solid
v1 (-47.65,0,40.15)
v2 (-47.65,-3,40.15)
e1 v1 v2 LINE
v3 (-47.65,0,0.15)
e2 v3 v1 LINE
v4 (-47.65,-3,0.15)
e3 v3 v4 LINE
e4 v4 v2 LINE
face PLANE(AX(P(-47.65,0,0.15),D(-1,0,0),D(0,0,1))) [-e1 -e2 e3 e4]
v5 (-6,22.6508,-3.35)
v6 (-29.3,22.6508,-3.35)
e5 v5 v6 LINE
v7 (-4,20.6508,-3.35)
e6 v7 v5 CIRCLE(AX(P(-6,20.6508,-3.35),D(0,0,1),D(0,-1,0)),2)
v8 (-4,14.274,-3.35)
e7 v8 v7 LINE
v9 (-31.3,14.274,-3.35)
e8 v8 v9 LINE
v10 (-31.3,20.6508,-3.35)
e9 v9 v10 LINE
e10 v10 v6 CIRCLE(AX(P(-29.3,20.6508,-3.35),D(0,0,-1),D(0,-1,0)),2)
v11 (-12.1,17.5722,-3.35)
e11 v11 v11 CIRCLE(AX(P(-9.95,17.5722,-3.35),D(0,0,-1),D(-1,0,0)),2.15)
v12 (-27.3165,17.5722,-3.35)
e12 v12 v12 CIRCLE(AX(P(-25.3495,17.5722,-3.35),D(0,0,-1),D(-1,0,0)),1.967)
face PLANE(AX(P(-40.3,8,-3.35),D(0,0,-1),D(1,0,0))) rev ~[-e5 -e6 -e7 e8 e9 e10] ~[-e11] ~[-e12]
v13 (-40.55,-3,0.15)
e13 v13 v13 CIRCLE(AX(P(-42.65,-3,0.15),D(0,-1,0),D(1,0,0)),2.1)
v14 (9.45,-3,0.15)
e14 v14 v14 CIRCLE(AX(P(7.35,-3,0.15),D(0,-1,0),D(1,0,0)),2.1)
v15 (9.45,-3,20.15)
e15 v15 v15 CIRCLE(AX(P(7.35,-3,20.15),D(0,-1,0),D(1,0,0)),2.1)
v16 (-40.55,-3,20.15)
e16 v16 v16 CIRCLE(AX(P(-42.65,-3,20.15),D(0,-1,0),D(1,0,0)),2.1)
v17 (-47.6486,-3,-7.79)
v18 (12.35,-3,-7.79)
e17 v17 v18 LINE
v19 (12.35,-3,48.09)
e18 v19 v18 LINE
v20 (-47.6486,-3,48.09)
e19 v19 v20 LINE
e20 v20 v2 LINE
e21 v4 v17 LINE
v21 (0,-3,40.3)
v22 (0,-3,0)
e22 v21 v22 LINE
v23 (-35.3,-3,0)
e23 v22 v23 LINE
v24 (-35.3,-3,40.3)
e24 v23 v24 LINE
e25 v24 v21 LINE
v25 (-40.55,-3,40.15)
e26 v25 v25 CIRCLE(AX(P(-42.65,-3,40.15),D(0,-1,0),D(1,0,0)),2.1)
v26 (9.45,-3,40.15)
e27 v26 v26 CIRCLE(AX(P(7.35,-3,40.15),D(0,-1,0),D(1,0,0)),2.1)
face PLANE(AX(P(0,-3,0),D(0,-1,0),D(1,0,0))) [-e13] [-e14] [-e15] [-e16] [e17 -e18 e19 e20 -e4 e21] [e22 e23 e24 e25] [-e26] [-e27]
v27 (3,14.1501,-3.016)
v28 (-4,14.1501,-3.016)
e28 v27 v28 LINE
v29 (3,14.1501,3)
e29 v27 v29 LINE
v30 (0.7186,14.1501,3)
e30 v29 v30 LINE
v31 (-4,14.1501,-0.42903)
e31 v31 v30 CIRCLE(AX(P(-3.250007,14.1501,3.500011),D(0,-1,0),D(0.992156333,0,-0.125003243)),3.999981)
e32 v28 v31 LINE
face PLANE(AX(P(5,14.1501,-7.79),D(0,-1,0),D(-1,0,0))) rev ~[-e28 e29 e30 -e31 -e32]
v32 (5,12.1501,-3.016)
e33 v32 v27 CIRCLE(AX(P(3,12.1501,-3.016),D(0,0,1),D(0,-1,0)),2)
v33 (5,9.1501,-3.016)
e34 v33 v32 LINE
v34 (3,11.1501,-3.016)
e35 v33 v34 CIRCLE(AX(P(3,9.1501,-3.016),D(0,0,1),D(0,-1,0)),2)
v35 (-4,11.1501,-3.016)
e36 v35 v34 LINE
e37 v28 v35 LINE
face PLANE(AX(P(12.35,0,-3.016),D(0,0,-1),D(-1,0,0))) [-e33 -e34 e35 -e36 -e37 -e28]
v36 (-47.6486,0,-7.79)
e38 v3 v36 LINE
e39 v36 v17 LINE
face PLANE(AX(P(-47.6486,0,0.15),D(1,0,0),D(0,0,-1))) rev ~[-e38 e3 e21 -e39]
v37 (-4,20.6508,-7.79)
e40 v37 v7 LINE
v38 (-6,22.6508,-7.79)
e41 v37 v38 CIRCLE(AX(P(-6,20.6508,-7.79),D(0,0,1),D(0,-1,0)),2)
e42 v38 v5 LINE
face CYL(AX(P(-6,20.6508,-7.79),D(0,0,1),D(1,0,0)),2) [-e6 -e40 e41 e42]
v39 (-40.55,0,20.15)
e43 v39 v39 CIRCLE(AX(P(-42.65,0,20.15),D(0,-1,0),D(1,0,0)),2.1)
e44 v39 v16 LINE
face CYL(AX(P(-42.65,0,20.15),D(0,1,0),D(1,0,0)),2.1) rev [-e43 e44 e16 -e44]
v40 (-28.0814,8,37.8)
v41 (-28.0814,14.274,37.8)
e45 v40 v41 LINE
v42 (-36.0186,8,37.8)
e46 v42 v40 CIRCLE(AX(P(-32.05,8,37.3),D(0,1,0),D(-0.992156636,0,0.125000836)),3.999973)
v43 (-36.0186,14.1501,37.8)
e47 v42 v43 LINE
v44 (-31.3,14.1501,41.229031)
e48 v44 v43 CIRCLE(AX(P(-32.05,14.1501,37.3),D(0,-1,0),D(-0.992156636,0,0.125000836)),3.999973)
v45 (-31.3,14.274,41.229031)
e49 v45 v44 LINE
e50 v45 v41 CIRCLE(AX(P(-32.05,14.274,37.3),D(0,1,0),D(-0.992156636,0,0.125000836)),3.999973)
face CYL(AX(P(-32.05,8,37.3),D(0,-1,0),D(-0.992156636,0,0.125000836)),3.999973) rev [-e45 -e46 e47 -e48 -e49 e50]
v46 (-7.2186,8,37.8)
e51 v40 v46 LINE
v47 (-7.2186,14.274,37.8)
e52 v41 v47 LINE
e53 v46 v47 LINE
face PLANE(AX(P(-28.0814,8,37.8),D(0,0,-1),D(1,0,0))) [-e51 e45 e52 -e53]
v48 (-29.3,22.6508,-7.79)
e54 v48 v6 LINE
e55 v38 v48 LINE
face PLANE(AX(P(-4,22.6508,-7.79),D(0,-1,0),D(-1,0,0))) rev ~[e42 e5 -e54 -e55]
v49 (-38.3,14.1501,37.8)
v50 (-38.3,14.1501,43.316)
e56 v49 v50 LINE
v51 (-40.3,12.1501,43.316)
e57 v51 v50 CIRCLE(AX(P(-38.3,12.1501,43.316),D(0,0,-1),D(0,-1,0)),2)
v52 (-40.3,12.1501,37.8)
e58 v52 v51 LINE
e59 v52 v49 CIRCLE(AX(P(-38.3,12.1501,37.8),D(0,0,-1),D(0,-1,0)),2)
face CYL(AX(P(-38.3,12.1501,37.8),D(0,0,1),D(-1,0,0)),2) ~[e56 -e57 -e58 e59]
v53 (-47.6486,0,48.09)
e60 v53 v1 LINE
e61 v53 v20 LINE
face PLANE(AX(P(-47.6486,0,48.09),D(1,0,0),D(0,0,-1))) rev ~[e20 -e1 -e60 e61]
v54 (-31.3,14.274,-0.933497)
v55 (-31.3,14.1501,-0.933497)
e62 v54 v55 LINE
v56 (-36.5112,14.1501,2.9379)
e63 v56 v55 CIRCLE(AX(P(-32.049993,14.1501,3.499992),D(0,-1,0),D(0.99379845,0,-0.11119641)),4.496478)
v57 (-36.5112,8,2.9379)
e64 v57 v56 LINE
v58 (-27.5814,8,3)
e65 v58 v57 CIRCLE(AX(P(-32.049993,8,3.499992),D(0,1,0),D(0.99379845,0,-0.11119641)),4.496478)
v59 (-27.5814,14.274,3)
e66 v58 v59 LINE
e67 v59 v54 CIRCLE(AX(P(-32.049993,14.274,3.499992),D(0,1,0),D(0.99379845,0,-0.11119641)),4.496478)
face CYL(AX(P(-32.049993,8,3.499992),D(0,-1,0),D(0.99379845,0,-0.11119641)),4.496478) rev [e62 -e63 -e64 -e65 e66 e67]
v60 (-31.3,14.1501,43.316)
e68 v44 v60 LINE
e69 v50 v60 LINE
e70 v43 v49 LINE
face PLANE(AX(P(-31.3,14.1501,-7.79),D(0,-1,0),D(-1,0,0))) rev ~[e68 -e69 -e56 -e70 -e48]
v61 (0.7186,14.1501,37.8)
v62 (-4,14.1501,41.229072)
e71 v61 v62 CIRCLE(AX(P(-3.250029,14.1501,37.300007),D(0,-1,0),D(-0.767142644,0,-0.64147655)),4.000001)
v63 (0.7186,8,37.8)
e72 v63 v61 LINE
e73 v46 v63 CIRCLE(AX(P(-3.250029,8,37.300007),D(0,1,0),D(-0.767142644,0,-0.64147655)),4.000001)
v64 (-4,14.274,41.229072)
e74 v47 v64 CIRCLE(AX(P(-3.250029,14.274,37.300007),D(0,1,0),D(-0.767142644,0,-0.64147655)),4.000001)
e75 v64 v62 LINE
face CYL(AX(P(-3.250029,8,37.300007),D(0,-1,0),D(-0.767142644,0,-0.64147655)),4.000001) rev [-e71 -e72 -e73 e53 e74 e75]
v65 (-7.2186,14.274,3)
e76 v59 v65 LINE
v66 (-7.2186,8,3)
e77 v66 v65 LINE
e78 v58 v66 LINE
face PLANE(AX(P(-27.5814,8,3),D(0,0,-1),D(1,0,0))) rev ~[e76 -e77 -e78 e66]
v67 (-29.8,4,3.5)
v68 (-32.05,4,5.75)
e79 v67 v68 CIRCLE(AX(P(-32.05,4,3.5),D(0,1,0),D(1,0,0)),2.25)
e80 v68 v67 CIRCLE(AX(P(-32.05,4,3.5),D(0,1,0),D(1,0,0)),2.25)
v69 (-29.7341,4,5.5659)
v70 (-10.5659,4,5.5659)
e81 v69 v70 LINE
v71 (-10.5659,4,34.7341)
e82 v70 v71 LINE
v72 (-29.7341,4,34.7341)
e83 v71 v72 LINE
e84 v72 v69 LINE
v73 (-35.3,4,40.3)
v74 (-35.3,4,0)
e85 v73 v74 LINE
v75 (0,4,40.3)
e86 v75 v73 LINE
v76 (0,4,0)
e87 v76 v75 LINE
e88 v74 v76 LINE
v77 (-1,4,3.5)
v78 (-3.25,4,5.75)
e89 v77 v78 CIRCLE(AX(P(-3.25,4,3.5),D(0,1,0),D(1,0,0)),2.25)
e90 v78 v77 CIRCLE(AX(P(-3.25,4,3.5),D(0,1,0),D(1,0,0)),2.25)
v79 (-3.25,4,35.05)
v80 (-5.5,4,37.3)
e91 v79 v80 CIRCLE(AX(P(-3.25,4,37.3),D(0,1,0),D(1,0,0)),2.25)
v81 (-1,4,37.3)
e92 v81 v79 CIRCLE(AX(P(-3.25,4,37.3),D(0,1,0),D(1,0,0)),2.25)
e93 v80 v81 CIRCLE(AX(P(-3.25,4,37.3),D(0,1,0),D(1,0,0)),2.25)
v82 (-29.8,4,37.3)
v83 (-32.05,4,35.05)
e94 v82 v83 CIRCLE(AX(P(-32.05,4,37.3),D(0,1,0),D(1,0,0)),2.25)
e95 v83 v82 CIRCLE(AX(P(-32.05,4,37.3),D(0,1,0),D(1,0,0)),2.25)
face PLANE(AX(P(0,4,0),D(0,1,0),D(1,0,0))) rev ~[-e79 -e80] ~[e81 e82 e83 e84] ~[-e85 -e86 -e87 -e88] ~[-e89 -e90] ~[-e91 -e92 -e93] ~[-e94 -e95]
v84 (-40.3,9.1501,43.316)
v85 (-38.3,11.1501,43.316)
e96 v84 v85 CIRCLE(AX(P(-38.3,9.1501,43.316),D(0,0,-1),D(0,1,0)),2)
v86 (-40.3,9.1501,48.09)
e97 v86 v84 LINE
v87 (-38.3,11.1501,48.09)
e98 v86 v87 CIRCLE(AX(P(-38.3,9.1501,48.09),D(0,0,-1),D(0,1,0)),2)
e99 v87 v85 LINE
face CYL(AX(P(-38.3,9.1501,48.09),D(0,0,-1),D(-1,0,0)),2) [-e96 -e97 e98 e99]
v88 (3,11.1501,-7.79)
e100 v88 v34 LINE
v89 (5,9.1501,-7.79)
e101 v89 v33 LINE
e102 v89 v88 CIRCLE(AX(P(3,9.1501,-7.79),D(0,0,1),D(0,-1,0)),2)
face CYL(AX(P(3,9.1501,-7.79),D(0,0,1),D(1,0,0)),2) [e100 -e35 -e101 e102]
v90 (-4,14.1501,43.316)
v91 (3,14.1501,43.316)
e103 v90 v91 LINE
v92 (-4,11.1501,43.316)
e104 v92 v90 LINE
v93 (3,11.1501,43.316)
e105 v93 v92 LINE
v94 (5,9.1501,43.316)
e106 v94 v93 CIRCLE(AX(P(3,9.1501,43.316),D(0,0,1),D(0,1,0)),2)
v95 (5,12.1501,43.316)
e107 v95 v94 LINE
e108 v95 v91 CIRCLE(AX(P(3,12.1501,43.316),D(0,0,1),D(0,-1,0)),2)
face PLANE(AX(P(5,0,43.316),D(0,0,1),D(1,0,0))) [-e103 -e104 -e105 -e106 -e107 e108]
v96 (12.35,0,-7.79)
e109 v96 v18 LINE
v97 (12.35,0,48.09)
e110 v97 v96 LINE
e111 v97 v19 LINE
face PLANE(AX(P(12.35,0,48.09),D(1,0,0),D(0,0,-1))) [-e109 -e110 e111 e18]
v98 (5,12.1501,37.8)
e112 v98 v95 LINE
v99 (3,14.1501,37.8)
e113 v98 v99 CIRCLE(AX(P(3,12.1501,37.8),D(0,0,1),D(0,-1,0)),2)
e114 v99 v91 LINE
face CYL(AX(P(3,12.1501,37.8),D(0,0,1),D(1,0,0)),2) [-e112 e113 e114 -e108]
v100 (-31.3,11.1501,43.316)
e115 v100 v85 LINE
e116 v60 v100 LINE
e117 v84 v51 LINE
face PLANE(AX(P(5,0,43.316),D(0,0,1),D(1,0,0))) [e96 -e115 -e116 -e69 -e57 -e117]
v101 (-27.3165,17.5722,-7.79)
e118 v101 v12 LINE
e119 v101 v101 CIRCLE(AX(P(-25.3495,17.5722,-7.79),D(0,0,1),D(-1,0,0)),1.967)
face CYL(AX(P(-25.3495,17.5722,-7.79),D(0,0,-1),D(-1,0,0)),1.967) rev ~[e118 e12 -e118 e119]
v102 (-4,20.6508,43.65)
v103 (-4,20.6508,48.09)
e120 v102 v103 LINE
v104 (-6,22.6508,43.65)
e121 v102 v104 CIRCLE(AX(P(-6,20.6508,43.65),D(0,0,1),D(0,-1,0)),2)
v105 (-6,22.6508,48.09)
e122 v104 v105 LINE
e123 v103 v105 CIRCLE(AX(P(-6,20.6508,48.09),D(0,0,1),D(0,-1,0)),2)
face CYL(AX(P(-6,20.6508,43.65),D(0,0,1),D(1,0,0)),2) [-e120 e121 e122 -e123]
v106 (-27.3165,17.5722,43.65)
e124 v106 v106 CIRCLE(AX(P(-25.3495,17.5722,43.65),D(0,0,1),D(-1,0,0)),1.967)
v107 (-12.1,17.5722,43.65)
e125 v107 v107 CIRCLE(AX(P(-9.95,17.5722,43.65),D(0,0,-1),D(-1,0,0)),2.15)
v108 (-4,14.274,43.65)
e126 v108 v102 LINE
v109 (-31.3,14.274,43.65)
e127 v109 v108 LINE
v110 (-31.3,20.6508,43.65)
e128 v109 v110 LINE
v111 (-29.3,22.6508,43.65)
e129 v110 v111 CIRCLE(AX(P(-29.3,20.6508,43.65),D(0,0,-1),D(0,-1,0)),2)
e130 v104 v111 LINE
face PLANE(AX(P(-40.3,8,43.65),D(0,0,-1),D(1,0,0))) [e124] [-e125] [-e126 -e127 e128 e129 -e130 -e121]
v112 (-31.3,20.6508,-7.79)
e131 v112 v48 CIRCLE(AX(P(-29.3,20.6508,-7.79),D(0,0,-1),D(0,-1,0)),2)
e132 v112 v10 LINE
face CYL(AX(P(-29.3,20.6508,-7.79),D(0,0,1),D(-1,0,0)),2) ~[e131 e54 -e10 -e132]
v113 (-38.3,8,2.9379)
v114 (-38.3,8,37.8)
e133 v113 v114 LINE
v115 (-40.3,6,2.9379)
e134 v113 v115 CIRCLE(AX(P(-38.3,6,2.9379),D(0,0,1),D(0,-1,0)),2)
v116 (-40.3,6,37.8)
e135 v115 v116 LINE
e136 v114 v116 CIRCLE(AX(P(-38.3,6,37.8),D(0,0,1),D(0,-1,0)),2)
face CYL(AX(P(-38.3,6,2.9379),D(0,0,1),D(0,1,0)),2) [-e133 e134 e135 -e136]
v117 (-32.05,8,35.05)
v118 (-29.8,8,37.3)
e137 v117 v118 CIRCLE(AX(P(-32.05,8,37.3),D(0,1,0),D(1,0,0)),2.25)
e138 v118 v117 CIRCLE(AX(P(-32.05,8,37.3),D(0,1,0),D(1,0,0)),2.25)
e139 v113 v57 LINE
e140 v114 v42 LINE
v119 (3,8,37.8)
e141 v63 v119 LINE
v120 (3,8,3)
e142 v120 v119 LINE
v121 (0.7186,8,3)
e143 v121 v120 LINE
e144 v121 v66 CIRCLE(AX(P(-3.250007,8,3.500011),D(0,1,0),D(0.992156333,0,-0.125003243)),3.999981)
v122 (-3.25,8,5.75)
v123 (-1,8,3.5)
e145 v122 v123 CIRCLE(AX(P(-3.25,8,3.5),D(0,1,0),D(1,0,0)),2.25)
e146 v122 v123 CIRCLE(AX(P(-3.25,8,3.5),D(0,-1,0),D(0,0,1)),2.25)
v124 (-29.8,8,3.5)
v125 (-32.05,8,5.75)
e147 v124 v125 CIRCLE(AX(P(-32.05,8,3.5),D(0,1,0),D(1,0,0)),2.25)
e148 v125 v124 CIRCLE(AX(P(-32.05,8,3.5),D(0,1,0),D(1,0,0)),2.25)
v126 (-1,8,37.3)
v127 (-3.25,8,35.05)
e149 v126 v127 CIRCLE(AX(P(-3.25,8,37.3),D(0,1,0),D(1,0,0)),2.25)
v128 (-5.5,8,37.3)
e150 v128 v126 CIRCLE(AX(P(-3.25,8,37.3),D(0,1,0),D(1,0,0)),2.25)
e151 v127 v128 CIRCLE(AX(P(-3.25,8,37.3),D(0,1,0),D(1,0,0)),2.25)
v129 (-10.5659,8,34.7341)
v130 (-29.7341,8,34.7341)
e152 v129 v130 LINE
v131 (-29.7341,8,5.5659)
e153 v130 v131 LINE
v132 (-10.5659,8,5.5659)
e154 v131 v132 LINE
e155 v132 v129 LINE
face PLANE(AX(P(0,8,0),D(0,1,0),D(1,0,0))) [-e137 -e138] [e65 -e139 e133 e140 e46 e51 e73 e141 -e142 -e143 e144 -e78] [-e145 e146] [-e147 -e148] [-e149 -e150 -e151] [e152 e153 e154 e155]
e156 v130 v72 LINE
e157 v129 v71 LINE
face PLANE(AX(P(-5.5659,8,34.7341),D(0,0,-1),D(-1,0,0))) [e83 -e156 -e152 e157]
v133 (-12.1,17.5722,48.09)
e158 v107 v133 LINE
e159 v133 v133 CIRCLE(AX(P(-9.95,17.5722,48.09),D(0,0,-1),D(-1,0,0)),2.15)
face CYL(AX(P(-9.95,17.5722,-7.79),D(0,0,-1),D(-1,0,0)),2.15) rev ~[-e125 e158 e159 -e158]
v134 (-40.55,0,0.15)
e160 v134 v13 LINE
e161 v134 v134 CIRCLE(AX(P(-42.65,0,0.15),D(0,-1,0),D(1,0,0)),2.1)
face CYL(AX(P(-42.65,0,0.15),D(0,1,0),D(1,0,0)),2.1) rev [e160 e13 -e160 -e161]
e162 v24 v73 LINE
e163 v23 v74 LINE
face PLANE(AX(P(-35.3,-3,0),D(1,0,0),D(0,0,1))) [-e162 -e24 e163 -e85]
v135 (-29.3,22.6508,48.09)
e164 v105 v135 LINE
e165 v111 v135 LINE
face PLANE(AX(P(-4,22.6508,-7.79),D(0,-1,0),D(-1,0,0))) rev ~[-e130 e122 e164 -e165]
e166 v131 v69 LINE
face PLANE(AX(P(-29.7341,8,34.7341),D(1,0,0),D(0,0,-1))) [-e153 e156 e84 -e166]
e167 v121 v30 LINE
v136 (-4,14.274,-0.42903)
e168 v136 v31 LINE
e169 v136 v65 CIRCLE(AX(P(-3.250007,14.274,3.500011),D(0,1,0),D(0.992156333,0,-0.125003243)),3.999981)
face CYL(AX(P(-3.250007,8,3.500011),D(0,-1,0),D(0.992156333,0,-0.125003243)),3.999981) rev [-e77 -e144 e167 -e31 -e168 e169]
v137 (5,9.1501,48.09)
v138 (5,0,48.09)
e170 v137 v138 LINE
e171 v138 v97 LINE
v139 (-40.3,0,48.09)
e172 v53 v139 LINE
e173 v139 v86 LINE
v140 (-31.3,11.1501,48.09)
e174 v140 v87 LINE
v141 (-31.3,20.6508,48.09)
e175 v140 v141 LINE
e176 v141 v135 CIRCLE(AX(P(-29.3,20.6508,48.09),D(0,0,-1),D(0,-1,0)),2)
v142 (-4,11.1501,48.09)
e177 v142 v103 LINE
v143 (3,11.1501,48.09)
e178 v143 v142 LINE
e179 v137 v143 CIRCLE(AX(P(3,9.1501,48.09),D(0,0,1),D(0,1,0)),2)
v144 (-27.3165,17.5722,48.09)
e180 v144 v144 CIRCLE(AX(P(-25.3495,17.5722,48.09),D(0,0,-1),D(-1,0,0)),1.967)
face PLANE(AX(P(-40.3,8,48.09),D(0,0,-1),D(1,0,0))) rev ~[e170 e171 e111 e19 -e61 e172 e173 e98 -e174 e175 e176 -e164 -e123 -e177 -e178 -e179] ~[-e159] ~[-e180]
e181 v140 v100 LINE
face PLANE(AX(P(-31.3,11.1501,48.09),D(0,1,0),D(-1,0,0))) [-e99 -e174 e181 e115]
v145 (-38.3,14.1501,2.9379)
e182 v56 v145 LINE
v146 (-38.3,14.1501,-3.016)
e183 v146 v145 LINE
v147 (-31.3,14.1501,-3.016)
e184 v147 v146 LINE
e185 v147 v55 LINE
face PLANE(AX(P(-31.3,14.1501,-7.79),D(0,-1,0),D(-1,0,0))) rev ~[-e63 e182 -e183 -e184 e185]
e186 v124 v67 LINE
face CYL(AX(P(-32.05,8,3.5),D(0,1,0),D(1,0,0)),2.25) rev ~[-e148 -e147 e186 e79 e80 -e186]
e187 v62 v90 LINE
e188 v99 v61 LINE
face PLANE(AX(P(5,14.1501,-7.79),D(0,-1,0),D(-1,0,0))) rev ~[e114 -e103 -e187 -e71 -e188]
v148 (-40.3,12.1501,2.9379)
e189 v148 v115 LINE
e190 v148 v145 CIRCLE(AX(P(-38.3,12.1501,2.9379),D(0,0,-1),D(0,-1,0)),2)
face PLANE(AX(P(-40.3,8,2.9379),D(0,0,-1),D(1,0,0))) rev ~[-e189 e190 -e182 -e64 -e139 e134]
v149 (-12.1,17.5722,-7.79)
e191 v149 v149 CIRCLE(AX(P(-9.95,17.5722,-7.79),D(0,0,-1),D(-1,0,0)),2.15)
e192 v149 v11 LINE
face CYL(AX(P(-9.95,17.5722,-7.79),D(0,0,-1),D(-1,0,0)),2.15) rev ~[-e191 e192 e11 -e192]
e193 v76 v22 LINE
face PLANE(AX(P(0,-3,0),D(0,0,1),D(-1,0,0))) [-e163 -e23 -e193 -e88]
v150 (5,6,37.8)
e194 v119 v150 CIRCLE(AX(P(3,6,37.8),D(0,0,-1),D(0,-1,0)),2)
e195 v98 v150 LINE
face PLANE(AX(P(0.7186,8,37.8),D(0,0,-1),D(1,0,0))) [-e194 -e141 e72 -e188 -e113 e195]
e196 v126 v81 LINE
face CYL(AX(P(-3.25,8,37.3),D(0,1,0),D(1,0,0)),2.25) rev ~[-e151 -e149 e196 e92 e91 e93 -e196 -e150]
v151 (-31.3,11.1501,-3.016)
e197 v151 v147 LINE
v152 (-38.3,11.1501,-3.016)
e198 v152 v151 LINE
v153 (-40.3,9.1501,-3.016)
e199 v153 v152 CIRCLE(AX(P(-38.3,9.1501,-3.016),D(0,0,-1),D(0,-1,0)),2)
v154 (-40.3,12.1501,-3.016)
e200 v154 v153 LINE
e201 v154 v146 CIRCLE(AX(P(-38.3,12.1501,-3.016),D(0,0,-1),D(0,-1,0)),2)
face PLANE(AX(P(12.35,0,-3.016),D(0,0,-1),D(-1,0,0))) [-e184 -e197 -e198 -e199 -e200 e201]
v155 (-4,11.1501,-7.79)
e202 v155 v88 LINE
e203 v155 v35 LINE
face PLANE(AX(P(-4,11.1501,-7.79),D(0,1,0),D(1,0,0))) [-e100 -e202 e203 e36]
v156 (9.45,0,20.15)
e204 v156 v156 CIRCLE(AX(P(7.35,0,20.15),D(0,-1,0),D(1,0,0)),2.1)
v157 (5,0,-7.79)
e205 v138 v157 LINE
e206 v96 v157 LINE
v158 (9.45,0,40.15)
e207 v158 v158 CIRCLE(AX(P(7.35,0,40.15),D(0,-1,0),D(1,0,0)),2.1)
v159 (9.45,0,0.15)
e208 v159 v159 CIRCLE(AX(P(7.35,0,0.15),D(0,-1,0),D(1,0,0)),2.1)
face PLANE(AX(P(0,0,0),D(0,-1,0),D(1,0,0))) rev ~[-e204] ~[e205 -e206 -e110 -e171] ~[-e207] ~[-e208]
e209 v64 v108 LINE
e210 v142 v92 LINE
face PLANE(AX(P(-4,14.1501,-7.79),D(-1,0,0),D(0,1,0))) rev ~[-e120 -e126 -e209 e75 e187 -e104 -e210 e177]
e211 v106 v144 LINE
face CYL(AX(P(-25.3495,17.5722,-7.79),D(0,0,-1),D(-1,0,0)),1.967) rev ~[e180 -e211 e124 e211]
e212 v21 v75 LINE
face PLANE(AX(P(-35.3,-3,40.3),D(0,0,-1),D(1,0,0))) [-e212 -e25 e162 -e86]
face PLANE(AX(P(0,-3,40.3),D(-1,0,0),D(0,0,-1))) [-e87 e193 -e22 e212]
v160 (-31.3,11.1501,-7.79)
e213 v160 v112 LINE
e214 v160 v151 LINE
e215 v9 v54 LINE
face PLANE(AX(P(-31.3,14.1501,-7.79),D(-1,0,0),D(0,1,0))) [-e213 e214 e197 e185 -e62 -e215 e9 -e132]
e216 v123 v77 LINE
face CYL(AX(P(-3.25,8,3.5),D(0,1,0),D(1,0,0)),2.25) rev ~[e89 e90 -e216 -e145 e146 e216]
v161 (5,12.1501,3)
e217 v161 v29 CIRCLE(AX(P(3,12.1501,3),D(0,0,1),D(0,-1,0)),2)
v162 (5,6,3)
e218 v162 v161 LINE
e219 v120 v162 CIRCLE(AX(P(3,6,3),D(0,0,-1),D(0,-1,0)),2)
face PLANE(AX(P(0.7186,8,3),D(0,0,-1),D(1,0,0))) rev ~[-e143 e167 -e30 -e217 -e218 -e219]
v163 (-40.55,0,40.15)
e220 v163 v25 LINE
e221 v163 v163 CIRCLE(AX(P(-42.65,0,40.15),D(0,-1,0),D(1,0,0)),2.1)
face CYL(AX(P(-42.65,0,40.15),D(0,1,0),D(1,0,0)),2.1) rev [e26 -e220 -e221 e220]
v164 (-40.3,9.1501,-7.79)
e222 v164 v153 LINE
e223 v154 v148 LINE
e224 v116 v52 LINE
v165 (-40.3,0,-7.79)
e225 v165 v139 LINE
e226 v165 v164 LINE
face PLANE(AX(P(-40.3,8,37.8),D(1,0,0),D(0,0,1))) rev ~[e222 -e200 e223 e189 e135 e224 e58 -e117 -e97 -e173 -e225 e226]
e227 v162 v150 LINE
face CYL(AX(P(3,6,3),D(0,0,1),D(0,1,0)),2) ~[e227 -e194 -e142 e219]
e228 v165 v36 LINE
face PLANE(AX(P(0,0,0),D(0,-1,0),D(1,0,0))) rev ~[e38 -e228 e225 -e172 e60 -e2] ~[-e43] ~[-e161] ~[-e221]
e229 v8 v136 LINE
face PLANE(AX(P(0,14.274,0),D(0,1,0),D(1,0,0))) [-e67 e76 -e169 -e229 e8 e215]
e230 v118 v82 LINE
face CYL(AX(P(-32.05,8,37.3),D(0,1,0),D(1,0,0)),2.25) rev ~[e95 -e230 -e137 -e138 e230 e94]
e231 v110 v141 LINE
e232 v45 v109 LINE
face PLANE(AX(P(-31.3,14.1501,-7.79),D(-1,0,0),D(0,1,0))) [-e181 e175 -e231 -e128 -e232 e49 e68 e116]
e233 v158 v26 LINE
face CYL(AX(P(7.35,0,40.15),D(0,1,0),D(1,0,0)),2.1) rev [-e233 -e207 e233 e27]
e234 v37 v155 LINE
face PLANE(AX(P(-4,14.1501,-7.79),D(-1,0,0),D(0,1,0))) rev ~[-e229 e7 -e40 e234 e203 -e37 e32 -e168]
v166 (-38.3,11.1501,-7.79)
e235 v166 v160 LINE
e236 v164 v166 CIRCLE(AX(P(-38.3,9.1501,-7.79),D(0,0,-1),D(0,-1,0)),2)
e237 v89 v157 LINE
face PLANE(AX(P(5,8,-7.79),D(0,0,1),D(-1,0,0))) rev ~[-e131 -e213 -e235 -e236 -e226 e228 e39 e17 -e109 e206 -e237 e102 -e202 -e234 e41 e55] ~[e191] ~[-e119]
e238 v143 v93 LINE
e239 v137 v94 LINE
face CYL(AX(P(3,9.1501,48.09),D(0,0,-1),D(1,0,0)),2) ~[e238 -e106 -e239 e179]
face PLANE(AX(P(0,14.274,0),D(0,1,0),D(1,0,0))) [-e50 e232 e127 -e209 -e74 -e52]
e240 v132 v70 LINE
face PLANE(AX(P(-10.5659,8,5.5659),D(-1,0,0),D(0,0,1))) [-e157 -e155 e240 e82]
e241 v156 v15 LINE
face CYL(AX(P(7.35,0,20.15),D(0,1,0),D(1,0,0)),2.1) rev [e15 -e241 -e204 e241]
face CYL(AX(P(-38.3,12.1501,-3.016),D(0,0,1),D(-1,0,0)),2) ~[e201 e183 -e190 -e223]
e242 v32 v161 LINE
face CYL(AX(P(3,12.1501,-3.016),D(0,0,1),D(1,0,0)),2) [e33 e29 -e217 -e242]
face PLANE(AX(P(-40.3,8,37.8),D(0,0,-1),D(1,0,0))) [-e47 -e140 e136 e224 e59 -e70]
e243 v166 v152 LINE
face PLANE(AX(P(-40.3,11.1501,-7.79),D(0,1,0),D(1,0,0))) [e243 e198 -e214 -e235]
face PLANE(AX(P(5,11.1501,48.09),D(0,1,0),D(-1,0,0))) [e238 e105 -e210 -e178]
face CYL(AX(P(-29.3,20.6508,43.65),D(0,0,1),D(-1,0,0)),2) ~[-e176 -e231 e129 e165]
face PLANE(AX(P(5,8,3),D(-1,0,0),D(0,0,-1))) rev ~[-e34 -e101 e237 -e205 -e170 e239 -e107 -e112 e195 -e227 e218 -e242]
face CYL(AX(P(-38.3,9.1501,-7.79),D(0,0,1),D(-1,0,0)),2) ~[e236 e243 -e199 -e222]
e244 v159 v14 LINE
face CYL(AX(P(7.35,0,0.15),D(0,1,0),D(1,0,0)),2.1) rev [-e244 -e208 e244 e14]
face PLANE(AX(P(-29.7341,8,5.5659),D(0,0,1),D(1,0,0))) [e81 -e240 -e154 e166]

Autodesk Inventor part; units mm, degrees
ref_plane "YZ Plane" through (0, 0, 0) normal (1, 0, 0) x (0, 1, 0)
ref_plane "XZ Plane" through (0, 0, 0) normal (0, 1, 0) x (-1, 0, 0)
ref_plane "XY Plane" through (0, 0, 0) normal (0, 0, 1) x (1, 0, 0)
sketch "Sketch1" plane through (0, 0, 0) normal (0, 1, 0) x (-1, 0, 0)
  line L0 (0, 0) -> (35.3, 0)
  line L1 (35.3, 0) -> (35.3, 40.3)
  line L2 (35.3, 40.3) -> (0, 40.3)
  line L3 (0, 40.3) -> (0, 0)
  line L4 (40.3, 45.3) -> (40.3, -5)
  line L5 (40.3, -5) -> (-5, -5)
  line L6 (-5, -5) -> (-5, 45.3)
  line L7 (-5, 45.3) -> (40.3, 45.3)
  dimension "d0" = 35.3
  dimension "d1" = 40.3
  dimension "d2" = 5
extrude "Extrusion1" add sketch "Sketch1" along normal blind 8
sketch "Sketch2" plane through (0, 8, 0) normal (0, 1, 0) x (1, 0, 0)
  line L0 (0, 0) -> (0, -40.3) projected
  line L1 (0, -40.3) -> (-35.3, -40.3) projected
  line L2 (-35.3, -40.3) -> (-35.3, 0) projected
  line L3 (-35.3, 0) -> (0, 0) projected
  line L4 (-32.05, -5.75) -> (-32.05, -35.05)
  line L5 (-29.8, -37.3) -> (-5.5, -37.3)
  line L6 (-3.25, -35.05) -> (-3.25, -5.75)
  circle A0 centre (-32.05, -3.5) radius 2.25
  circle A1 centre (-3.25, -3.5) radius 2.25
  circle A2 centre (-3.25, -37.3) radius 2.25
  circle A3 centre (-32.05, -37.3) radius 2.25
  line L7 (-5.5659, -5.5659) -> (-5.5659, -34.7341)
  line L8 (-5.5659, -34.7341) -> (-29.7341, -34.7341)
  line L9 (-29.7341, -34.7341) -> (-29.7341, -5.5659)
  line L10 (-29.7341, -5.5659) -> (-5.5659, -5.5659)
  line L11 (-5.5, -3.5) -> (-5.5659, -3.5)
  line L12 (-29.7341, -3.5) -> (-29.8, -3.5)
  dimension "d6" = 4.5
  dimension "d7" = 4.5
  dimension "d8" = 4.5
  dimension "d9" = 4.5
  dimension "d17" = 5.5659
extrude "Extrusion2" add sketch "Sketch2" against normal blind 4
sketch "Sketch3" plane through (0, 0, 0) normal (0, -1, 0) x (1, 0, 0)
  line L0 (-40.3, 45.3) -> (-40.3, -5) projected
  line L1 (-40.3, -5) -> (5, -5) projected
  line L2 (4.73, -7.79) -> (-40.03, -7.79)
  line L3 (-40.03, 48.09) -> (4.73, 48.09)
  line L4 (83.85, 15.65) -> (86.85, 15.65)
  circle A0 centre (25.35, 55.15) radius 2.5
  arc A1 (-22.4416, -21.2786) -> (-24.3582, -19.85) centre (-24.3582, -21.85) ccw
  line L5 (66.85, 24.65) -> (63.85, 24.65)
  line L6 (86.85, 10.65) -> (83.85, 10.65)
  circle A2 centre (25.35, 41.15) radius 2.5
  arc A3 (32.35, 38.15) -> (37.35, 33.15) centre (37.35, 38.15) ccw
  line L7 (2.35, 5.15) -> (2.35, 35.15)
  arc A4 (50.35, 7.15) -> (50.5801, 7.1553) centre (50.35, 12.15) ccw
  line L8 (-37.65, 35.15) -> (-37.65, 5.15)
  arc A5 (48.35, 26.15) -> (48.35, 30.15) centre (48.35, 28.15) ccw
  arc A6 (-22.4416, -21.2786) -> (-12.8584, -21.2786) centre (-17.65, -19.85) ccw
  line L9 (83.85, 43.65) -> (86.85, 43.65)
  line L10 (77.85, 41.65) -> (77.85, 38.15)
  arc A7 (86.85, 38.65) -> (86.85, 43.65) centre (86.85, 41.15) ccw
  line L11 (72.85, 33.15) -> (50.5801, 33.15)
  arc A8 (66.85, 24.65) -> (66.85, 29.65) centre (66.85, 27.15) ccw
  circle A9 centre (-42.65, 40.15) radius 2.1
  circle A10 centre (25.35, -14.85) radius 2.5
  arc A11 (83.85, 15.65) -> (83.85, 10.65) centre (83.85, 13.15) ccw
  line L12 (50.5801, 7.15) -> (72.85, 7.15)
  arc A12 (87.85, -6.35) -> (92.85, -1.35) centre (87.85, -1.35) ccw
  circle A13 centre (7.35, 40.15) radius 2.1
  line L13 (-47.65, 0.15) -> (-47.65, 40.15)
  arc A14 (92.85, 41.65) -> (87.85, 46.65) centre (87.85, 41.65) ccw
  arc A15 (66.85, 10.65) -> (66.85, 15.65) centre (66.85, 13.15) ccw
  line L14 (83.85, 29.65) -> (86.85, 29.65)
  line L15 (66.85, 10.65) -> (63.85, 10.65)
  arc A16 (-12.8584, 61.5786) -> (-10.9418, 60.15) centre (-10.9418, 62.15) ccw
  line L16 (83.85, 1.65) -> (86.85, 1.65)
  arc A17 (63.85, 15.65) -> (63.85, 10.65) centre (63.85, 13.15) ccw
  line L17 (48.35, 14.15) -> (38.35, 14.15)
  line L18 (-10.9418, 60.15) -> (27.35, 60.15)
  circle A18 centre (7.35, 0.15) radius 2.1
  line L19 (86.85, -3.35) -> (83.85, -3.35)
  line L20 (92.85, -1.35) -> (92.85, 41.65)
  arc A19 (86.85, -3.35) -> (86.85, 1.65) centre (86.85, -0.85) ccw
  line L21 (38.35, 10.15) -> (48.35, 10.15)
  arc A20 (82.85, 46.65) -> (77.85, 41.65) centre (82.85, 41.65) ccw
  arc A21 (86.85, 24.65) -> (86.85, 29.65) centre (86.85, 27.15) ccw
  line L22 (27.35, -19.85) -> (-10.9418, -19.85)
  arc A22 (-27.65, 60.15) -> (-47.65, 40.15) centre (-27.65, 40.15) ccw
  arc A23 (-10.9418, -19.85) -> (-12.8584, -21.2786) centre (-10.9418, -21.85) ccw
  line L23 (87.85, 46.65) -> (82.85, 46.65)
  arc A24 (48.35, 10.15) -> (48.35, 14.15) centre (48.35, 12.15) ccw
  circle A25 centre (-17.65, -19.85) radius 2.6
  line L24 (32.35, -14.85) -> (32.35, 2.15)
  arc A26 (83.85, 1.65) -> (83.85, -3.35) centre (83.85, -0.85) ccw
  arc A27 (86.85, 10.65) -> (86.85, 15.65) centre (86.85, 13.15) ccw
  circle A28 centre (25.35, 27.15) radius 2.5
  arc A29 (37.35, 7.15) -> (32.35, 2.15) centre (37.35, 2.15) ccw
  circle A30 centre (25.35, -0.85) radius 2.5
  line L25 (-27.65, 60.15) -> (-24.3582, 60.15)
  line L26 (-24.3582, -19.85) -> (-27.65, -19.85)
  line L27 (38.35, 26.15) -> (48.35, 26.15)
  circle A31 centre (-37.65, -12.85) radius 1.75
  line L28 (50.5801, 33.15) -> (50.5801, 33.1447)
  arc A32 (-17.8261, 55.1531) -> (-18.8441, 55.2947) centre (-17.65, 60.15) ccw
  arc A33 (72.85, 33.15) -> (77.85, 38.15) centre (72.85, 38.15) ccw
  arc A34 (38.35, 14.15) -> (38.35, 10.15) centre (38.35, 12.15) ccw
  arc A35 (83.85, 43.65) -> (83.85, 38.65) centre (83.85, 41.15) ccw
  line L29 (82.85, -6.35) -> (87.85, -6.35)
  circle A36 centre (2.35, 53.15) radius 1.75
  arc A37 (2.35, 35.15) -> (-37.65, 35.15) centre (-17.65, 35.15) ccw
  arc A38 (50.5801, 33.1447) -> (50.35, 33.15) centre (50.35, 28.15) ccw
  arc A39 (63.85, 29.65) -> (63.85, 24.65) centre (63.85, 27.15) ccw
  circle A40 centre (25.35, 13.15) radius 2.5
  arc A41 (77.85, -1.35) -> (82.85, -6.35) centre (82.85, -1.35) ccw
  circle A42 centre (-42.65, 20.15) radius 2.1
  arc A43 (-24.3582, 60.15) -> (-22.4416, 61.5786) centre (-24.3582, 62.15) ccw
  arc A44 (38.35, 30.15) -> (38.35, 26.15) centre (38.35, 28.15) ccw
  arc A45 (83.85, 29.65) -> (83.85, 24.65) centre (83.85, 27.15) ccw
  line L30 (50.35, 33.15) -> (37.35, 33.15)
  line L31 (50.35, 7.15) -> (37.35, 7.15)
  arc A46 (27.35, -19.85) -> (32.35, -14.85) centre (27.35, -14.85) ccw
  line L32 (86.85, 24.65) -> (83.85, 24.65)
  line L33 (50.5801, 7.1553) -> (50.5801, 7.15)
  circle A47 centre (7.35, 20.15) radius 2.1
  arc A48 (-37.65, 5.15) -> (2.35, 5.15) centre (-17.65, 5.15) ccw
  line L34 (63.85, 29.65) -> (66.85, 29.65)
  line L35 (48.35, 30.15) -> (38.35, 30.15)
  line L36 (77.85, 2.15) -> (77.85, -1.35)
  circle A49 centre (-17.65, 60.15) radius 2.6
  circle A50 centre (48.35, 20.15) radius 1.25
  line L37 (63.85, 15.65) -> (66.85, 15.65)
  arc A51 (-47.65, 0.15) -> (-27.65, -19.85) centre (-27.65, 0.15) ccw
  circle A52 centre (2.35, -12.85) radius 1.75
  arc A53 (32.35, 55.15) -> (27.35, 60.15) centre (27.35, 55.15) ccw
  arc A54 (77.85, 2.15) -> (72.85, 7.15) centre (72.85, 2.15) ccw
  circle A55 centre (-37.65, 53.15) radius 1.75
  circle A56 centre (-42.65, 0.15) radius 2.1
  line L38 (32.35, 38.15) -> (32.35, 55.15)
  line L39 (86.85, 38.65) -> (83.85, 38.65)
  circle A57 centre (38.35, 20.15) radius 1.25
  line L40 (-40.03, 48.09) -> (-47.6486, 48.09)
  line L41 (-47.6486, 48.09) -> (-47.6486, -7.79)
  line L42 (-47.6486, -7.79) -> (-40.03, -7.79)
  line L43 (4.73, 48.09) -> (12.35, 48.09)
  line L44 (12.35, 48.09) -> (12.35, -7.79)
  line L45 (12.35, -7.79) -> (4.73, -7.79)
  circle A58 centre (7.35, 40.15) radius 2.1
  circle A59 centre (7.35, 20.15) radius 2.1
  circle A60 centre (7.35, 0.15) radius 2.1
  circle A61 centre (-42.65, 40.15) radius 2.1
  circle A62 centre (-42.65, 0.15) radius 2.1
  circle A63 centre (-42.65, 20.15) radius 2.1
  line L46 (-40.3, 45.3) -> (5, 45.3)
  line L47 (5, 45.3) -> (5, -5)
  line L48 (5, -5) -> (-40.3, -5)
  line L49 (-40.3, -5) -> (-40.3, 45.3)
  line L50 (-47.6486, 48.09) -> (12.35, 48.09)
  line L51 (12.35, 48.09) -> (12.35, -7.79)
  line L52 (12.35, -7.79) -> (-47.6486, -7.79)
  line L53 (-47.6486, -7.79) -> (-47.6486, 48.09)
  point P0 (6.3945, 46.914)
  dimension "d12" = 7.62
extrude "Extrusion3" add sketch "Sketch3" along normal blind 3 contours L0 L1 A48 L2 L42 A51 L13 A22 L40 L3 A37 L46 | A37 L3 L46 | L1 A48 L2 | A37 L3 L43 L44 L45 L2 A48 L1 L47 L46 | A22 L41 L40 | L42 L41 A51
sketch "Sketch5" plane through (0, -3, 0) normal (0, -1, 0) x (1, 0, 0)
  line L0 (-40.3, 45.3) -> (5, 45.3) projected
  line L1 (5, 45.3) -> (5, -5) projected
  line L2 (5, -5) -> (-40.3, -5) projected
  line L3 (-40.3, -5) -> (-40.3, 45.3) projected
  line L4 (0, 0) -> (-35.3, 0)
  line L5 (-35.3, 0) -> (-35.3, 40.3)
  line L6 (-35.3, 40.3) -> (0, 40.3)
  line L7 (0, 40.3) -> (0, 0)
  dimension "d15" = 35.3
  dimension "d16" = 40.3
extrude "Extrusion4" add sketch "Sketch5" against normal up to next
sketch "Sketch6" plane through (0, 0, 0) normal (0, 1, 0) x (1, 0, 0)
  line L0 (-40.3, 5) -> (5, 5) projected
  line L1 (-47.6486, 7.79) -> (12.35, 7.79) projected
  line L2 (5, 5) -> (5, 23.7794)
  line L3 (5, 5) -> (23.7794, 5) construction
  line L4 (-40.3, 5) -> (-40.3, 33.7756)
  line L5 (-40.3, 7.79) -> (5, 7.79)
  line L6 (-40.3, 5) -> (5, 5)
  point P0 (0, 0)
  dimension "d20" = 90
extrude "Extrusion5" add sketch "Sketch6" along normal up to surface (8 mm away)
sketch "Sketch7" plane through (0, 0, 0) normal (0, 1, 0) x (1, 0, 0)
  line L0 (5, -45.3) -> (-40.3, -45.3) projected
  line L1 (12.35, -48.09) -> (-47.6486, -48.09) projected
  line L2 (5, 7.79) -> (12.35, 7.79) projected
  line L3 (-40.3, -45.3) -> (-40.3, -52.0309)
  line L4 (5, -45.3) -> (5, -53.1235)
  line L5 (5, -48.09) -> (-40.3, -48.09)
  line L6 (-40.3, -45.3) -> (5, -45.3)
  point P0 (0, 0)
extrude "Extrusion6" add sketch "Sketch7" along normal up to surface (8 mm away)
sketch "Sketch8" plane through (0, 8, 0) normal (0, 1, 0) x (1, 0, 0)
  line L0 (-40.3, 7.79) -> (-40.3, -48.09) projected
  line L1 (5, -48.09) -> (5, 7.79) projected
  line L2 (5, 7.79) -> (-40.3, 7.79) projected
  line L3 (-40.3, 3.35) -> (5, 3.35)
  line L4 (5, -43.3291) -> (-40.3, -43.3291)
  point P0 (0, 0)
  dimension "d25" = 4.44
extrude "Extrusion7" add sketch "Sketch8" along normal blind 19 contours L2 L1 L3 L0
sketch "Sketch9" plane through (0, 8, 0) normal (0, 1, 0) x (1, 0, 0)
  line L0 (-40.3, 3.35) -> (-40.3, -48.09) projected
  line L1 (-40.3, -48.09) -> (5, -48.09) projected
  line L2 (5, -48.09) -> (5, 3.35) projected
  line L3 (-40.3, -43.65) -> (5, -43.65)
  point P0 (0, 0)
  dimension "d28" = 4.44
extrude "Extrusion8" add sketch "Sketch9" along normal blind 19
sketch "Sketch10" plane through (0, 8, 0) normal (0, 1, 0) x (1, 0, 0)
  line L0 (5, -43.65) -> (5, 3.35) projected
  line L1 (5, 3.35) -> (-40.3, 3.35) projected
  line L2 (-40.3, 3.35) -> (-40.3, -43.65) projected
  line L3 (-29.7341, -5.5659) -> (-5.5659, -5.5659) projected
  line L4 (-29.7341, -34.7341) -> (-29.7341, -5.5659) projected
  circle A0 centre (-3.25, -3.5) radius 2.25 projected
  circle A1 centre (-32.05, -3.5) radius 2.25 projected
  arc A2 (0.7186, -3) -> (-6.6752, -5.5659) centre (-3.25, -3.5) ccw
  line L5 (0.7186, -3) -> (5, -3)
  arc A3 (-27.5814, -3) -> (-36.5112, -2.9379) centre (-32.05, -3.5) ccw
  arc A4 (-29.7341, -6.9252) -> (-28.4684, -5.5659) centre (-32.05, -3.5) ccw
  line L6 (-40.3, -2.9379) -> (-36.5112, -2.9379)
  line L7 (-27.5814, -3) -> (-7.2186, -3)
  line L8 (-40.3, -2.9379) -> (-40.3, 3.35)
  line L9 (5, 3.35) -> (5, -3)
  line L10 (5, 3.35) -> (-40.3, 3.35)
  point P0 (0, 0)
  dimension "d33" = 8
extrude "Extrusion9" add sketch "Sketch10" along normal blind 6.274 contours L5 A2 L7 A3 L6 L2 L1 L0
sketch "Sketch11" plane through (0, 8, 0) normal (0, 1, 0) x (1, 0, 0)
  circle A0 centre (-3.25, -37.3) radius 2.25 projected
  circle A1 centre (-32.05, -37.3) radius 2.25 projected
  line L0 (-5.5659, -34.7341) -> (-29.7341, -34.7341) projected
  line L1 (-40.3, -2.9379) -> (-40.3, -43.65) projected
  line L2 (-40.3, -43.65) -> (5, -43.65) projected
  line L3 (5, -43.65) -> (5, -3) projected
  arc A2 (-36.0186, -37.8) -> (-28.0814, -37.8) centre (-32.05, -37.3) ccw
  arc A3 (-6.3186, -34.7341) -> (0.7186, -37.8) centre (-3.25, -37.3) ccw
  line L4 (0.7186, -37.8) -> (5, -37.8)
  line L5 (-40.3, -37.8) -> (-36.0186, -37.8)
  line L6 (-28.0814, -37.8) -> (-7.2186, -37.8)
  line L7 (-40.3, -37.8) -> (-40.3, -43.65)
  line L8 (-40.3, -43.65) -> (5, -43.65)
  line L9 (5, -37.8) -> (5, -43.65)
  line L10 (5, -43.65) -> (-40.3, -43.65)
  point P0 (0, 0)
  dimension "d37" = 8
  dimension "d38" = 8
extrude "Extrusion10" add sketch "Sketch11" along normal blind 6.274 contours L5 A2 L6 A3 L4 L3 L2 L1
sketch "Sketch12" plane through (12.35, 0, -7.79) normal (0, 0, -1) x (-1, 0, 0)
  line L0 (52.65, 0) -> (52.65, 27) projected
  line L1 (7.35, 27) -> (52.65, 27) projected
  line L2 (59.9986, 0) -> (59.9986, -3) projected
  line L3 (52.65, 14.6559) -> (44.6903, 14.6559)
  circle A0 centre (37.6995, 17.5722) radius 1.967
  circle A1 centre (22.3005, 17.5722) radius 1.967
  line L4 (27.8781, 10.4279) -> (122.5324, 10.4279)
  line L5 (24.2675, 17.5722) -> (35.7325, 17.5722)
  line L6 (82.6836, 13.3441) -> (74.9841, 13.3441)
  line L7 (31, 17.5722) -> (31, 14.6559)
  line L8 (74.9841, 13.3441) -> (77.9003, 13.3441) construction
  line L9 (30, 27) -> (30, 13.9681)
  line L10 (44.6903, 14.6559) -> (30, 14.6559)
  point P0 (12.35, 0)
  dimension "d41" = 90
  dimension "d67" = 7.6995
extrude "Extrusion11" cut sketch "Sketch12" against normal through all contours A0
sketch "Sketch13" plane through (12.35, 0, -7.79) normal (0, 0, -1) x (-1, 0, 0)
  circle A0 centre (37.7, 17.5722) radius 2.2225
  circle A1 centre (22.3, 17.5722) radius 2.15
  line L0 (23.523, 17.5722) -> (36.477, 17.5722)
  line L1 (30, 17.5722) -> (30, 14.2772)
  line L2 (30, 27) -> (30, 13.5)
  point P0 (12.35, 0)
  point P1 (30, 14.2772)
  dimension "d66" = 7.7
  dimension "d68" = 7.7
  dimension "d69" = 4.445
  dimension "d70" = 4.3
extrude "Extrusion12" cut sketch "Sketch13" against normal through all contours A1
sketch "Sketch14" plane through (12.35, 0, -7.79) normal (0, 0, -1) x (-1, 0, 0)
  line L0 (52.65, 0) -> (52.65, 27) projected
  line L1 (7.35, 27) -> (52.65, 27) projected
  line L2 (7.35, 0) -> (7.35, 27) projected
  line L3 (7.35, 14.1501) -> (16.35, 14.1501)
  line L4 (16.35, 14.1501) -> (16.35, 22.6508)
  line L5 (16.35, 22.6508) -> (43.65, 22.6508)
  line L6 (43.65, 14.1501) -> (43.65, 22.6508)
  line L7 (16.35, 22.6508) -> (43.65, 22.6508)
  line L8 (43.65, 22.6508) -> (43.65, 14.1501)
  line L9 (16.35, 14.1501) -> (16.35, 22.6508)
  line L10 (7.35, 14.1501) -> (16.35, 14.1501)
  line L11 (43.65, 14.1501) -> (52.65, 14.1501)
  point P0 (12.35, 0)
  point P1 (16.35, 27)
  point P2 (43.65, 27)
  dimension "d46" = 9
extrude "Extrusion13" cut sketch "Sketch14" against normal through all
sketch "Sketch15" plane through (12.35, 0, -7.79) normal (0, 0, -1) x (-1, 0, 0)
  line L0 (52.65, 0) -> (52.65, 14.1501) projected
  line L1 (43.65, 14.1501) -> (52.65, 14.1501)
  line L2 (52.65, 14.1501) -> (52.65, 11.1501)
  line L3 (52.65, 11.1501) -> (43.65, 11.1501)
  line L4 (43.65, 11.1501) -> (43.65, 14.1501)
  point P0 (12.35, 0)
  dimension "d52" = 3
extrude "Extrusion14" cut sketch "Sketch15" against normal blind 4.774
sketch "Sketch16" plane through (12.35, 0, -7.79) normal (0, 0, -1) x (-1, 0, 0)
  line L0 (7.35, 14.1501) -> (16.35, 14.1501)
  line L1 (16.35, 14.1501) -> (16.35, 11.1501)
  line L2 (16.35, 11.1501) -> (7.35, 11.1501)
  line L3 (7.35, 11.1501) -> (7.35, 14.1501)
  point P0 (12.35, 0)
  dimension "d55" = 3
extrude "Extrusion15" cut sketch "Sketch16" against normal blind 4.774
sketch "Sketch17" plane through (5, 0, 48.09) normal (0, 0, 1) x (1, 0, 0)
  line L0 (-45.3, 14.1501) -> (-36.3, 14.1501)
  line L1 (-36.3, 14.1501) -> (-36.3, 11.1501)
  line L2 (-36.3, 11.1501) -> (-45.3, 11.1501)
  line L3 (-45.3, 11.1501) -> (-45.3, 14.1501)
  point P0 (-5, 0)
  dimension "d58" = 3
extrude "Extrusion16" cut sketch "Sketch17" against normal blind 4.774
sketch "Sketch18" plane through (5, 0, 48.09) normal (0, 0, 1) x (1, 0, 0)
  line L0 (0, 0) -> (0, 14.1501) projected
  line L1 (-9, 14.1501) -> (0, 14.1501)
  line L2 (0, 14.1501) -> (0, 11.1501)
  line L3 (0, 11.1501) -> (-9, 11.1501)
  line L4 (-9, 11.1501) -> (-9, 14.1501)
  point P0 (-5, 0)
  dimension "d61" = 3
extrude "Extrusion17" cut sketch "Sketch18" against normal blind 4.774
fillet "Fillet4" radius 2 8 edges at (-31.3, 22.6508, -5.57) (-40.3, 11.1501, -5.403) (-40.3, 8, 20.369) (-40.3, 14.1501, -0.039) (-4, 22.6508, -5.57) (5, 11.1501, -5.403) (5, 14.1501, -0.008) (5, 8, 20.4)
fillet "Fillet5" radius 2 6 edges at (-40.3, 11.1501, 45.703) (-40.3, 14.1501, 40.558) (-31.3, 22.6508, 45.87) (5, 11.1501, 45.703) (5, 14.1501, 40.558) (-4, 22.6508, 45.87)
sketch "Sketch20" plane through (0, 8, 0) normal (0, 1, 0) x (1, 0, 0)
  line L0 (-5.5659, -5.5659) -> (-5.5659, -34.7341) projected
  line L1 (-5.5659, -34.7341) -> (-5.5659, -5.5659)
  line L2 (-5.5659, -5.5659) -> (-10.5659, -5.5659)
  line L3 (-10.5659, -5.5659) -> (-10.5659, -34.7341)
  line L4 (-10.5659, -34.7341) -> (-5.5659, -34.7341)
  point P0 (0, 0)
  dimension "d74" = 5
extrude "Extrusion19" add sketch "Sketch20" against normal blind 4
sketch "Sketch23" plane through (0, 4, 0) normal (0, -1, 0) x (1, 0, 0)
  line L0 (-10.5659, 5.5659) -> (-29.7341, 5.5659) projected
  line L1 (-29.7341, 5.5659) -> (-29.7341, 34.7341) projected
  line L2 (-29.7341, 34.7341) -> (-10.5659, 34.7341) projected
  line L3 (-10.5659, 34.7341) -> (-10.5659, 5.5659) projected
  circle A0 centre (-32.05, 37.3) radius 2.25 projected
  circle A1 centre (-3.25, 37.3) radius 2.25 projected
  circle A2 centre (-3.25, 3.5) radius 2.25 projected
  circle A3 centre (-32.05, 3.5) radius 2.25 projected
  line L4 (0, 40.3) -> (0, 0) projected
  line L5 (-35.3, 40.3) -> (0, 40.3) projected
  line L6 (-35.3, 0) -> (-35.3, 40.3) projected
  line L7 (0, 0) -> (-35.3, 0) projected
  line L8 (-3.25, 37.3) -> (-3.25, 30.3)
  line L9 (-3.25, 30.3) -> (-7.75, 30.3)
  dimension "d92" = 7
  dimension "d93" = 4.5
properties part number "kraken3"
